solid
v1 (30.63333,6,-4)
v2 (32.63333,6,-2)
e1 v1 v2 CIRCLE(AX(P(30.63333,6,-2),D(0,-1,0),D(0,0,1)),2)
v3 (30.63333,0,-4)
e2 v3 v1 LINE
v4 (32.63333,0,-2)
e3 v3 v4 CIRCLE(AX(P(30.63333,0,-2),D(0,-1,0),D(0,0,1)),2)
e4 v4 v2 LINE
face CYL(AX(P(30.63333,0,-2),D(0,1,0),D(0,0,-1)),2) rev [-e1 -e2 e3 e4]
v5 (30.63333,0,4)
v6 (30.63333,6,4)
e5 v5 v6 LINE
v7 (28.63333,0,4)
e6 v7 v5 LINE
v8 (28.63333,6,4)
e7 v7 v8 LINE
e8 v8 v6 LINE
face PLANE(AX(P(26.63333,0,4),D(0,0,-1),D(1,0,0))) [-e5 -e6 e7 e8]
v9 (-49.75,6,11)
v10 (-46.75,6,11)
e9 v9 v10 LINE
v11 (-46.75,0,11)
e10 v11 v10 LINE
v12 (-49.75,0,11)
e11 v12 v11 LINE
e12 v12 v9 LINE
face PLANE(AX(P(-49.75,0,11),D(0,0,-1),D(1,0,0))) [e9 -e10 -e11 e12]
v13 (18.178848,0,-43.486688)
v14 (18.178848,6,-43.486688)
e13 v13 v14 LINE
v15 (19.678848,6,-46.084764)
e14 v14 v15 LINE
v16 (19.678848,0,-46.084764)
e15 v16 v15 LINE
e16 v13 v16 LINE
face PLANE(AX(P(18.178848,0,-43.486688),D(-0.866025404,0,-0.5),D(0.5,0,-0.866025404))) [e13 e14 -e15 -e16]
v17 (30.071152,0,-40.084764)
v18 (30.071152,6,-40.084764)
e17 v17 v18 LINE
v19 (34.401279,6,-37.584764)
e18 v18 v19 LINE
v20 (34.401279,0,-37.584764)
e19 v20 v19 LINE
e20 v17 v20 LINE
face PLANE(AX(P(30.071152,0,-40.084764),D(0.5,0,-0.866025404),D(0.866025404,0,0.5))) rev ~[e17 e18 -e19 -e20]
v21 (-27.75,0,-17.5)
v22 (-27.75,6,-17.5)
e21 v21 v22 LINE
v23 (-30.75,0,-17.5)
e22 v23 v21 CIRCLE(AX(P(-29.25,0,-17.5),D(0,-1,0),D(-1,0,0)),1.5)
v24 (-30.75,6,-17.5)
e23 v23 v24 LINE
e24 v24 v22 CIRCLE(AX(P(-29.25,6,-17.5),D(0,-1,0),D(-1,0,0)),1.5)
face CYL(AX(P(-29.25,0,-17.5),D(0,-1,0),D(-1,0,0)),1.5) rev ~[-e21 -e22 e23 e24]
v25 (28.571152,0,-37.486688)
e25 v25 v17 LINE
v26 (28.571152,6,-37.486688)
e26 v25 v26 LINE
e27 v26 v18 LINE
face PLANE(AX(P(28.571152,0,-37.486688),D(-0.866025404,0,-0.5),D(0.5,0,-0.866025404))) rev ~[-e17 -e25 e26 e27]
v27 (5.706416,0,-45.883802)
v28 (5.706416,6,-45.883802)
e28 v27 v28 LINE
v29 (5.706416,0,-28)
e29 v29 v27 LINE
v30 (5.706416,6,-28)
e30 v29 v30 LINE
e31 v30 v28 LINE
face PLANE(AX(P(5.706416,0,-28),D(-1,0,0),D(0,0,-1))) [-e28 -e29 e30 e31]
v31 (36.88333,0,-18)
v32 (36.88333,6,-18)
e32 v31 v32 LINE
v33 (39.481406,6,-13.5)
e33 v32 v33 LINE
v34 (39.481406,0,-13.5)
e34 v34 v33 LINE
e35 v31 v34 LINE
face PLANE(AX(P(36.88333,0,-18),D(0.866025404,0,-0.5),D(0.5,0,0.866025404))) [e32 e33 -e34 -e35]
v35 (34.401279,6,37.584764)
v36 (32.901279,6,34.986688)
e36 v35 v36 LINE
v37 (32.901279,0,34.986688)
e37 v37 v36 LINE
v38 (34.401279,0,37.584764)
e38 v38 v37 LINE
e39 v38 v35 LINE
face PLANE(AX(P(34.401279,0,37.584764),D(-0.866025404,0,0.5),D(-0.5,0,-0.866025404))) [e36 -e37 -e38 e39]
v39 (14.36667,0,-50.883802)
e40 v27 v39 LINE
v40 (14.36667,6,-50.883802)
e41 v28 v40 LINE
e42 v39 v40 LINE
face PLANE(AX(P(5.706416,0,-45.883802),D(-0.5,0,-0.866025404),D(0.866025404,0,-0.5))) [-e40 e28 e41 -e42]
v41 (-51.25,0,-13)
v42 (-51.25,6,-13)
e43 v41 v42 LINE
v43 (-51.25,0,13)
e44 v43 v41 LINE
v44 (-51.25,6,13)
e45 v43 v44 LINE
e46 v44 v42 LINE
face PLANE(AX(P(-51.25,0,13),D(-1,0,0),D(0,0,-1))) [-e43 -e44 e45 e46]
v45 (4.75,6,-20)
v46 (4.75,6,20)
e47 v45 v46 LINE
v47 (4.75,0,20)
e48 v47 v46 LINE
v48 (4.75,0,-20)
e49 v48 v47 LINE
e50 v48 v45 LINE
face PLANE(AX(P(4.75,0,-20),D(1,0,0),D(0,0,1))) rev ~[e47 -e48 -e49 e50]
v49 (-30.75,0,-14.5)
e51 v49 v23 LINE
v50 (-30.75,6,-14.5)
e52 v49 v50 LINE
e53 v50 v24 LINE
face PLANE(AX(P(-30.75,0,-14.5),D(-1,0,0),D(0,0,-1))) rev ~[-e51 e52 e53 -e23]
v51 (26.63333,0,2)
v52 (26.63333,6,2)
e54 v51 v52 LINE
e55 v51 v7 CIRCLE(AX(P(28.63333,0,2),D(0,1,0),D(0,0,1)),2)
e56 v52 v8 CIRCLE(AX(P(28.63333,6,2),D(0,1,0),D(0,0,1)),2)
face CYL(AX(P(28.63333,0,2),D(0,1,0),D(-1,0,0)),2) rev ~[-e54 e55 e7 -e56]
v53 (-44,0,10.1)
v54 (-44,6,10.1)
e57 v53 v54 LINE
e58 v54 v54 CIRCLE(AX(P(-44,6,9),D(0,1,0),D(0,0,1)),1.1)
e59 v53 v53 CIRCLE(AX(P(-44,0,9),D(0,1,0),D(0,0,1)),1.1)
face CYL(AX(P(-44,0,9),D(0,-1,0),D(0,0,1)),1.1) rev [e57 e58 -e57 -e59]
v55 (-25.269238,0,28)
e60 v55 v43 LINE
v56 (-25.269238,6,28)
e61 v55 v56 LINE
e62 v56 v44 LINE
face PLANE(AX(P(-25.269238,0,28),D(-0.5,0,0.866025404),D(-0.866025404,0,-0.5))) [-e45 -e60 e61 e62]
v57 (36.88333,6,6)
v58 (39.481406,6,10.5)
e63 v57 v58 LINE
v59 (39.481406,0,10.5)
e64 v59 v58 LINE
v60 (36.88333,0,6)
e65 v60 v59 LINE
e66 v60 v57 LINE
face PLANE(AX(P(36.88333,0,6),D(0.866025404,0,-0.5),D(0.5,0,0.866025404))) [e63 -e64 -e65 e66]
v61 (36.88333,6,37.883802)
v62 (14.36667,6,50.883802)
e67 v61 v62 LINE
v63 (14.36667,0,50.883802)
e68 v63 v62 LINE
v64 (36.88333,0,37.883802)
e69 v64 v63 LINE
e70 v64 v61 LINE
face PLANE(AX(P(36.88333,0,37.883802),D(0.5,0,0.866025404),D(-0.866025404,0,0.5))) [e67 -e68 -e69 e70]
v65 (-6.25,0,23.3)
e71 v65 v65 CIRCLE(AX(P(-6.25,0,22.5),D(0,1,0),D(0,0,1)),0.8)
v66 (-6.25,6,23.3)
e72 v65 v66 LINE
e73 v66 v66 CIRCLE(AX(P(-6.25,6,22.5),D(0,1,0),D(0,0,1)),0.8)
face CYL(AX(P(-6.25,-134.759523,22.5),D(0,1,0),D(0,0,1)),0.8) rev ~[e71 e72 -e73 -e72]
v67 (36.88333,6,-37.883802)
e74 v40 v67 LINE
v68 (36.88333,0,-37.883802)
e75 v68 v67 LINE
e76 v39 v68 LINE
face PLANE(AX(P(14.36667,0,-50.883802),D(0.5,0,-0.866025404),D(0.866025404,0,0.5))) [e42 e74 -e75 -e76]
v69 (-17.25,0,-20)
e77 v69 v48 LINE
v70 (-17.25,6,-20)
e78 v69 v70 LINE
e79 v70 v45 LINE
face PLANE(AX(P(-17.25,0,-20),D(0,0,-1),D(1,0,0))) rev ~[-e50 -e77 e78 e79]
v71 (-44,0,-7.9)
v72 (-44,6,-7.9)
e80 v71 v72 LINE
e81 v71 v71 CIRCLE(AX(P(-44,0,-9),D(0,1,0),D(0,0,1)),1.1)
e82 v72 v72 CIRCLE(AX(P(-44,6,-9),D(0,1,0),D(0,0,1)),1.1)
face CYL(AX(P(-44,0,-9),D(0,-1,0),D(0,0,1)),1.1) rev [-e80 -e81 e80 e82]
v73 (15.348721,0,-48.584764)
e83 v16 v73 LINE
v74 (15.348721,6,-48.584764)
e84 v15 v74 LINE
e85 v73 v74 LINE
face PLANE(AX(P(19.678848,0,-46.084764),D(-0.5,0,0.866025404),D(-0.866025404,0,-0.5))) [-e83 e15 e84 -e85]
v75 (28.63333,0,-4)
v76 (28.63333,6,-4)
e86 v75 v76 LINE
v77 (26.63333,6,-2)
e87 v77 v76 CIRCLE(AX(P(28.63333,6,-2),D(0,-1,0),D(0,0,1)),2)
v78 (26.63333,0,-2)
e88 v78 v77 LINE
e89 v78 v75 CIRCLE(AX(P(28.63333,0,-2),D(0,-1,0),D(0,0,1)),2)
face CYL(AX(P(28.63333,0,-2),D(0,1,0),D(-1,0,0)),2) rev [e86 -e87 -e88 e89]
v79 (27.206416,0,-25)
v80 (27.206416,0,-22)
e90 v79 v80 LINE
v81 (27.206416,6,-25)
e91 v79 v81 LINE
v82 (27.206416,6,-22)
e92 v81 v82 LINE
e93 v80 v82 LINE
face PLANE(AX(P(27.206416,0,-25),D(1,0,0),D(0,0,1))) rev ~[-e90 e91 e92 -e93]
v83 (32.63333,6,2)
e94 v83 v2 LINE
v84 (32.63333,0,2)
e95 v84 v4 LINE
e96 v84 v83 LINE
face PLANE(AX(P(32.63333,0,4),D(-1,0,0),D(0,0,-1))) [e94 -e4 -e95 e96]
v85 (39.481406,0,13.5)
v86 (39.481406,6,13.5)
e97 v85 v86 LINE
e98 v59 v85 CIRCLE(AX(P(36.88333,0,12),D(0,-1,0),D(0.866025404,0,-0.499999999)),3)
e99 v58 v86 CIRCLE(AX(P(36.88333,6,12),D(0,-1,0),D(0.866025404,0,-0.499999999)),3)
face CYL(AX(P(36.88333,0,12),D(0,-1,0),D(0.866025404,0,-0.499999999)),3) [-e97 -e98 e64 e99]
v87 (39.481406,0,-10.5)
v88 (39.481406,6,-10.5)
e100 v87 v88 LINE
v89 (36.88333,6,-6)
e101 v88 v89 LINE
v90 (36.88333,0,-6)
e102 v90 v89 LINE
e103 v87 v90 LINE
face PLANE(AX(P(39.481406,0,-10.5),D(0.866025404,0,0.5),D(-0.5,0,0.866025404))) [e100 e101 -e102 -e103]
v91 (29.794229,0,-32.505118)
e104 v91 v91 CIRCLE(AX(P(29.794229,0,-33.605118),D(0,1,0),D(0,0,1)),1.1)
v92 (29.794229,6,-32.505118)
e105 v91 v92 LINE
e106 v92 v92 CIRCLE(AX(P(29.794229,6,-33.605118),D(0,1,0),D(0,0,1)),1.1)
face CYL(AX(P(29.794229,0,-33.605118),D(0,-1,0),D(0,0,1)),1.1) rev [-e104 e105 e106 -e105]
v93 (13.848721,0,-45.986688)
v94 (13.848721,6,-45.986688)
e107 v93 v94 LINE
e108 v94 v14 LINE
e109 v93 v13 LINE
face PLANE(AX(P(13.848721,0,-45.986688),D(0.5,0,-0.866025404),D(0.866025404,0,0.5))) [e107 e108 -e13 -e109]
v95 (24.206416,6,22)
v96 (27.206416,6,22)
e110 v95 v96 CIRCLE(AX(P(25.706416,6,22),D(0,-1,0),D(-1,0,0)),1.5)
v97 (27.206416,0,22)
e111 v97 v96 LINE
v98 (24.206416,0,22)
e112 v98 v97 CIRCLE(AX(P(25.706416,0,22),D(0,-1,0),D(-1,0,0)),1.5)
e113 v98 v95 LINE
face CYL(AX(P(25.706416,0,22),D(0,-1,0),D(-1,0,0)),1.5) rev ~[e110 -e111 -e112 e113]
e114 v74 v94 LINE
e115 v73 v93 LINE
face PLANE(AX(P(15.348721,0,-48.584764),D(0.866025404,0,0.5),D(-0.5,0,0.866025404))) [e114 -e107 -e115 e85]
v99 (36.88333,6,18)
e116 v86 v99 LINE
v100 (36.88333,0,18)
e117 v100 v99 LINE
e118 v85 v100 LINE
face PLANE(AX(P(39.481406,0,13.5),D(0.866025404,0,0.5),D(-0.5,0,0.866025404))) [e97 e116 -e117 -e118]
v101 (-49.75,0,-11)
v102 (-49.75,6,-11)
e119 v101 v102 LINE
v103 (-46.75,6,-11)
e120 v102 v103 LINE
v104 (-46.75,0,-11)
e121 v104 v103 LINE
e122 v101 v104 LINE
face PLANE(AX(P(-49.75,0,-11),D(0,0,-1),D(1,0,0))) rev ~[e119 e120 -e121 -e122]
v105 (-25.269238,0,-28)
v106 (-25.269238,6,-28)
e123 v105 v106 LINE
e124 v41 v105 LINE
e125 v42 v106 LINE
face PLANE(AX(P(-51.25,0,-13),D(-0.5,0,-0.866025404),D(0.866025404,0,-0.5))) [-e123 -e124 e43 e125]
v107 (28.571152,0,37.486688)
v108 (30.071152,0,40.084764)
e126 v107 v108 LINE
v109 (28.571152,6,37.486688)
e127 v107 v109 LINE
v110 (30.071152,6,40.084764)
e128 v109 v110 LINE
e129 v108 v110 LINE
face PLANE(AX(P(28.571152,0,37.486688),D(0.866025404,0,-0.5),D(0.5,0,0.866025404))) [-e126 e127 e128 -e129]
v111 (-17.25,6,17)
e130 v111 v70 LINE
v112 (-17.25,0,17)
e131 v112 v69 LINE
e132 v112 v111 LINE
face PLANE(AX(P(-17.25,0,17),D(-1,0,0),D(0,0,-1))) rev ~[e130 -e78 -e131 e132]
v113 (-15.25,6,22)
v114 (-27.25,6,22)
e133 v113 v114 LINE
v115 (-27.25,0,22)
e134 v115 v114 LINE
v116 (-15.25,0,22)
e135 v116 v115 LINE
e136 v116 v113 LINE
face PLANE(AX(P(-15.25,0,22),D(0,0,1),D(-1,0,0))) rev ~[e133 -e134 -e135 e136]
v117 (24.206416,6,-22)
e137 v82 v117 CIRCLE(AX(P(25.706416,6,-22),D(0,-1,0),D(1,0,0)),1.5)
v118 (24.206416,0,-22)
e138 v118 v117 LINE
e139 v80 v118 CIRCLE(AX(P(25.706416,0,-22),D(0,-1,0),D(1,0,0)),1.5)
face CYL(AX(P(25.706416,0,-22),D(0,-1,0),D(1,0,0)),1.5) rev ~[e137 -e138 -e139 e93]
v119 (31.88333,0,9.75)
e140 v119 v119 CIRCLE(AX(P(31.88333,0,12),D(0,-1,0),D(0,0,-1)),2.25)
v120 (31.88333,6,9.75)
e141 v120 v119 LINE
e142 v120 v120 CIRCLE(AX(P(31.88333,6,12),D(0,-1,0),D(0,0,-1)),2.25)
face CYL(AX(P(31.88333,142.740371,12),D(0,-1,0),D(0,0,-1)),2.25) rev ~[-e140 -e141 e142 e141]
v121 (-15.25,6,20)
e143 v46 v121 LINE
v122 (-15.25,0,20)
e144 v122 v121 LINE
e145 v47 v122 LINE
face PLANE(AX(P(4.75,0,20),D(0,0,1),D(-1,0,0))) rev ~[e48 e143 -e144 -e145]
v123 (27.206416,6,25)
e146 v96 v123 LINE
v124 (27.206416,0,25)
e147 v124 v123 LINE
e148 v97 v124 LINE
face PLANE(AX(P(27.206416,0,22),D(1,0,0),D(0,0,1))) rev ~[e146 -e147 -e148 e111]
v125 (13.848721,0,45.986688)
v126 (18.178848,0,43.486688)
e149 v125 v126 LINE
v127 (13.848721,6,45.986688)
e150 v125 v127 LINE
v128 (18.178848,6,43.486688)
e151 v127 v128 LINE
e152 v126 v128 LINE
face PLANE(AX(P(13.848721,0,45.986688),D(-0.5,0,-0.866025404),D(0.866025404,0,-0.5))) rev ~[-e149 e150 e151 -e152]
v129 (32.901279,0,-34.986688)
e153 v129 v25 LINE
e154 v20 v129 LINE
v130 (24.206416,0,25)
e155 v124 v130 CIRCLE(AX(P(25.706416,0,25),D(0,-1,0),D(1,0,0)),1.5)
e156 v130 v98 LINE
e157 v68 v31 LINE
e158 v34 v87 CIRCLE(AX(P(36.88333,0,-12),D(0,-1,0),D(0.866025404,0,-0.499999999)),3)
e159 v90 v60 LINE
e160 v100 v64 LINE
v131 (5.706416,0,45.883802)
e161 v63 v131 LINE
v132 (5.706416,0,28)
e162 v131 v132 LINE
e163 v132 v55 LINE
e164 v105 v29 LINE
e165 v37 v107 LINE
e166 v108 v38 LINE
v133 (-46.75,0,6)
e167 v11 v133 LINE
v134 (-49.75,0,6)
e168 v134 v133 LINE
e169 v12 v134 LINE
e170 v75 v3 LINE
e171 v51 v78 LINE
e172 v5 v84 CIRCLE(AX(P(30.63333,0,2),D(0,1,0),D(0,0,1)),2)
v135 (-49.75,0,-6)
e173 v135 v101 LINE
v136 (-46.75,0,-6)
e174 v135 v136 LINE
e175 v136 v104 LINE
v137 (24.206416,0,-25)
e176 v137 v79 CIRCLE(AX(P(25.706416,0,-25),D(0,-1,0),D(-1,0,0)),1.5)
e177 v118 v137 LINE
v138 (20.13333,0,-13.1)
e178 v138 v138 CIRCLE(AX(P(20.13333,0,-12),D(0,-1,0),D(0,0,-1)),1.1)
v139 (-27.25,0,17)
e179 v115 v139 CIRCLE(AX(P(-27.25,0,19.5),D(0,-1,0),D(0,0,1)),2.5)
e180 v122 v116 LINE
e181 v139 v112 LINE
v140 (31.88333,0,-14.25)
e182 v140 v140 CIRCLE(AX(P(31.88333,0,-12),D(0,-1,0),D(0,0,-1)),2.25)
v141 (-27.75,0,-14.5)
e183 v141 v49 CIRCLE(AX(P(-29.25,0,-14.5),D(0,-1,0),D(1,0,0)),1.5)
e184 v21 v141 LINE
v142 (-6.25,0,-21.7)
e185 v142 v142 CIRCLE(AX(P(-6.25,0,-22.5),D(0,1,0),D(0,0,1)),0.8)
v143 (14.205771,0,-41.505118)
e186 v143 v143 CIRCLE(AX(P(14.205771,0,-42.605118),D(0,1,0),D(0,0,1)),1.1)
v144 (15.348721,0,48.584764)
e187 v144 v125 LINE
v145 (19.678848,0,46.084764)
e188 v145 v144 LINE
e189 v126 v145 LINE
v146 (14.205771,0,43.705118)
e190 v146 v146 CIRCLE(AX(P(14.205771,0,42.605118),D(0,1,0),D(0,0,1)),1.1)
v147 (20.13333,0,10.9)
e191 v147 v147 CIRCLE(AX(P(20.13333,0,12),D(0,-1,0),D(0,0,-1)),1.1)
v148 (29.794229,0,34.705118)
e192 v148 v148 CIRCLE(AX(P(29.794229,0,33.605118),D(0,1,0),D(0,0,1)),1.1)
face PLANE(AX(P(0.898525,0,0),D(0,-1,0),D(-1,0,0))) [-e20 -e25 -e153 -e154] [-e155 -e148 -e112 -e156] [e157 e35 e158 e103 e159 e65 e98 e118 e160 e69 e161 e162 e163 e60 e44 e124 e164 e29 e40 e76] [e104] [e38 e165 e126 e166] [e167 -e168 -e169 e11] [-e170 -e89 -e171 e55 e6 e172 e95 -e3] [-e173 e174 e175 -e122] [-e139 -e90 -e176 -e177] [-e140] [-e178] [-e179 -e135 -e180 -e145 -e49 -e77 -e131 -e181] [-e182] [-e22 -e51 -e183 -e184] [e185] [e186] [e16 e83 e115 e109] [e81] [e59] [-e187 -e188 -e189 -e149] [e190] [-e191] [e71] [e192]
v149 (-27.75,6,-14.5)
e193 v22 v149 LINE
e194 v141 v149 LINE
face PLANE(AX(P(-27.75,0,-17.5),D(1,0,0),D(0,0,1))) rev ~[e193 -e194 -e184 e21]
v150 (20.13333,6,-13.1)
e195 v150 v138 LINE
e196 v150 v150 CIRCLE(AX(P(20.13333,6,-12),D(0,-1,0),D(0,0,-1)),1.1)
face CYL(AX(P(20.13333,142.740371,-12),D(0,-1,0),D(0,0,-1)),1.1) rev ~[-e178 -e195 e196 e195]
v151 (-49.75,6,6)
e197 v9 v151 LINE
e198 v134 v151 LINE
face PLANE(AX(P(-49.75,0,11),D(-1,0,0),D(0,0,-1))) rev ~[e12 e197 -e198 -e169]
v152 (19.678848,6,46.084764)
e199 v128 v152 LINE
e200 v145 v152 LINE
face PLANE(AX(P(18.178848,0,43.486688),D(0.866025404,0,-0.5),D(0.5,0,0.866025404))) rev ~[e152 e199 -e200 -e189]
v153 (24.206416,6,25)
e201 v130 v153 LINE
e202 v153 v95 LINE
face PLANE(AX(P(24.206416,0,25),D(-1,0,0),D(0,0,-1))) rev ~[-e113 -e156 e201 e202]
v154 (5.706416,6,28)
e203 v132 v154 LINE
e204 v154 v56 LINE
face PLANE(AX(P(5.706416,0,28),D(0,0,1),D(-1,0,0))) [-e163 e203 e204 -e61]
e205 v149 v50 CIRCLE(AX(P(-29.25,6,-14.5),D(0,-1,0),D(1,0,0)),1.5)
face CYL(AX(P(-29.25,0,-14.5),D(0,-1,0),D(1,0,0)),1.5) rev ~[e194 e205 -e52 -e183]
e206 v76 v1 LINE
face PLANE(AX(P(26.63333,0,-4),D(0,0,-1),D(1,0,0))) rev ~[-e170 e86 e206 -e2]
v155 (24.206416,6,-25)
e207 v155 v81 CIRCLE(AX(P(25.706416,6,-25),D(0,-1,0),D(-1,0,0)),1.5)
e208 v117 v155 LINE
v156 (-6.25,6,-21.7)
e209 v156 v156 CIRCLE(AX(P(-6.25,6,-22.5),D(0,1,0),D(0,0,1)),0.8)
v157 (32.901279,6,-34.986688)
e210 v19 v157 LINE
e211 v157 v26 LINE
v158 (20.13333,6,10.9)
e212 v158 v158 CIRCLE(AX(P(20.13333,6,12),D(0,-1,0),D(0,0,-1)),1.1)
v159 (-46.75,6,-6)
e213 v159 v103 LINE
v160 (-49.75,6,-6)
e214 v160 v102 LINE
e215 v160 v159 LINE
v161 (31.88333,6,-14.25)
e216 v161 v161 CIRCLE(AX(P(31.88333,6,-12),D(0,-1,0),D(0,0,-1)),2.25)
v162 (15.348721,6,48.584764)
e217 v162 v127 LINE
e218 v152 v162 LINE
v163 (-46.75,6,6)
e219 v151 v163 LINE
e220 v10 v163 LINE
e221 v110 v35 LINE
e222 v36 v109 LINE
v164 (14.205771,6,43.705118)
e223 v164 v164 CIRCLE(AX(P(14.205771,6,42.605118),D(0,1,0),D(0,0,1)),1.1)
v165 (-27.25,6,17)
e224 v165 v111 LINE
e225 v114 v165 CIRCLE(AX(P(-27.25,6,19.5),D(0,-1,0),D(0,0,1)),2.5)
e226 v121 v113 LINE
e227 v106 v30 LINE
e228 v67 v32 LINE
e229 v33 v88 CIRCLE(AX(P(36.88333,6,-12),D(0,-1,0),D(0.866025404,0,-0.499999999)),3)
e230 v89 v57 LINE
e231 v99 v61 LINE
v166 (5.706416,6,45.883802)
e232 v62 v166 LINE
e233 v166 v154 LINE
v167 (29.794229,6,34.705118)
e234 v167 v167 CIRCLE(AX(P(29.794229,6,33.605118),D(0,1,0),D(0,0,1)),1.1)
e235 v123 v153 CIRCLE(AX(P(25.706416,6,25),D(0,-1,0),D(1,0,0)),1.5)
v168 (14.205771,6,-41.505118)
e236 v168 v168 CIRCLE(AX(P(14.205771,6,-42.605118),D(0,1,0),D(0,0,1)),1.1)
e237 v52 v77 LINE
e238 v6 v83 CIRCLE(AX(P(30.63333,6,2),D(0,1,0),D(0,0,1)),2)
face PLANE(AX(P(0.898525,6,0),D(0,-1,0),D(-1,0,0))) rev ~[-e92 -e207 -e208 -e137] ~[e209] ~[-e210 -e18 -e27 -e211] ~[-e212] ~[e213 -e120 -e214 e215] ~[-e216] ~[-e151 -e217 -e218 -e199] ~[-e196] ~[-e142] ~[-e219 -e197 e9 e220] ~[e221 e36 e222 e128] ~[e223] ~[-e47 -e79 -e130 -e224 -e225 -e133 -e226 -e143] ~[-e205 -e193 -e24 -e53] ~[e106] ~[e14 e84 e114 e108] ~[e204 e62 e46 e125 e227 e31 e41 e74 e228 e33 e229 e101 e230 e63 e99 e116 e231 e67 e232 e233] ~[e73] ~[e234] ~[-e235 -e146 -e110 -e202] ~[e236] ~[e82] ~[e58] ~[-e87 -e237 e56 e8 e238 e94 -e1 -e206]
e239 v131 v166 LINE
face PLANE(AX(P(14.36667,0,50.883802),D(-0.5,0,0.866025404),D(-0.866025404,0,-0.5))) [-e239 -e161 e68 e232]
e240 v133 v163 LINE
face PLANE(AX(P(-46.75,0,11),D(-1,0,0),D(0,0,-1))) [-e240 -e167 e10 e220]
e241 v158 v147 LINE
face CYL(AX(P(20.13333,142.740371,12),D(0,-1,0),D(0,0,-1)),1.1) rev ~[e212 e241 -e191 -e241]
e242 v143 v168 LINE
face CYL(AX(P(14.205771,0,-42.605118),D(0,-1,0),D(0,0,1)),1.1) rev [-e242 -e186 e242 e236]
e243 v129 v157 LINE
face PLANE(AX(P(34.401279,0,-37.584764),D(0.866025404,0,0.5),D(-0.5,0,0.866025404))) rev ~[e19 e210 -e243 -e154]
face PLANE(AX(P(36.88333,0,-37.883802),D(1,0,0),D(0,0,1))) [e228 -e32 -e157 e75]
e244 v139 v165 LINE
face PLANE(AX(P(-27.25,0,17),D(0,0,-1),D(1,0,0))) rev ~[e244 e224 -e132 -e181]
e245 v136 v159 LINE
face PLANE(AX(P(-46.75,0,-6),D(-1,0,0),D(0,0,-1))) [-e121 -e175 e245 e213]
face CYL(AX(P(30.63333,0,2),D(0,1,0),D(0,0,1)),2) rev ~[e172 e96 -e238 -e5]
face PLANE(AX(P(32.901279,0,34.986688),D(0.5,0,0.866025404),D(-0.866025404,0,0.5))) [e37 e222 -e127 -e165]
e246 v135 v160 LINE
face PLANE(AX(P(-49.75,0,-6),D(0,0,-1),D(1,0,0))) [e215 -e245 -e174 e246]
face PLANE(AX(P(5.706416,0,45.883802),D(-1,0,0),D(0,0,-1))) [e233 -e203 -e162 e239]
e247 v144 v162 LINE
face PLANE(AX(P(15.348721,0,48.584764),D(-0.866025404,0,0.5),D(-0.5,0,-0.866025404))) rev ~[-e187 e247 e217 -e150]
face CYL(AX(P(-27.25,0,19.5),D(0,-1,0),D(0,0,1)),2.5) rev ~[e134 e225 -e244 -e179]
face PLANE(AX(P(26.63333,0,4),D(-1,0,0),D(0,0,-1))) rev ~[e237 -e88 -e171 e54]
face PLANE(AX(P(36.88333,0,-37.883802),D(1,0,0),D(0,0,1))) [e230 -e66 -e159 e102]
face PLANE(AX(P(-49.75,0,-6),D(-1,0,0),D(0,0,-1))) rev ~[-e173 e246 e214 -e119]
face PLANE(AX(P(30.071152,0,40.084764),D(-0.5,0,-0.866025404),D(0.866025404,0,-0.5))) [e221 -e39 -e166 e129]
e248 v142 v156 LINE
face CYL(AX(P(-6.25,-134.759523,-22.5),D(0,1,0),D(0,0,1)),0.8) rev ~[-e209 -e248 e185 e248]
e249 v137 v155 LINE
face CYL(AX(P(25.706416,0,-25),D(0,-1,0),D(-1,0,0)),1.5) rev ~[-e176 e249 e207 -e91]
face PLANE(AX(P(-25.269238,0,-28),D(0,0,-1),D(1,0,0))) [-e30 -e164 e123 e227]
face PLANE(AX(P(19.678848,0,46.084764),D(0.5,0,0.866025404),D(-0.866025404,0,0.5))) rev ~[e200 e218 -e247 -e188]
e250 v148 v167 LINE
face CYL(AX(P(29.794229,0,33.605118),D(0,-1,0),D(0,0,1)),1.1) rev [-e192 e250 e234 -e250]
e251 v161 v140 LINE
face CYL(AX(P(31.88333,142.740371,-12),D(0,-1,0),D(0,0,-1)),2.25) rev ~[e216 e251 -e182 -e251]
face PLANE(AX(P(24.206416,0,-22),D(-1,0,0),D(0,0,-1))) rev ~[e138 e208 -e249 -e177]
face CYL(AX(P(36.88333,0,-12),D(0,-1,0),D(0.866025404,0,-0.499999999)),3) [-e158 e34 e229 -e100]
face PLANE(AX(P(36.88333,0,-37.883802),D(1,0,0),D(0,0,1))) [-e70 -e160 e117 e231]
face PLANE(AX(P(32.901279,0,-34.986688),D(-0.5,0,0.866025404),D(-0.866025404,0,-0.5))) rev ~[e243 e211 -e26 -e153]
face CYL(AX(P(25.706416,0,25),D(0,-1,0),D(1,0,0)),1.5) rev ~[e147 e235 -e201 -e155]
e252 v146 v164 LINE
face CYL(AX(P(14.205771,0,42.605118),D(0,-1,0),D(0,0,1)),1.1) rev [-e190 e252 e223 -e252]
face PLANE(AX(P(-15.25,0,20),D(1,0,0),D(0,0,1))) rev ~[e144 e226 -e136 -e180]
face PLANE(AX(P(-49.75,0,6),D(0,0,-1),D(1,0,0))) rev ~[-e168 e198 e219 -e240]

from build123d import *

# Parameters (mm, degrees)
SKETCH1_R                  = 1.1
SKETCH1_W                  = 3
SKETCH1_H                  = 5
SKETCH1_W_2                = 6
SKETCH1_H_2                = 8
BOSS_EXTRUDE1_DEPTH        = 6
F_1_6_1_6_DIAMETER_HOLE3_D = 1.6
BOSS_EXTRUDE2_DEPTH        = 6
FILLET1_R                  = 2
F_2_2_2_2_DIAMETER_HOLE1_D = 2.2
F_4_0MM_DOWEL_HOLE1_D      = 4.5


with BuildPart() as part:
    # Sketch1 → Boss-Extrude1 (new body)
    with BuildSketch(Plane(origin=(0, 0, 0), x_dir=(1, 0, 0), z_dir=(0, 1, 0))):
        Polygon((14.366669751, 50.883801944), (36.883330249, 37.883801944), (36.883330249, -37.883801944), (14.366669751, -50.883801944), (5.706415713, -45.883801944), (5.706415713, -28), (-25.269237886, -28), (-51.25, -13), (-51.25, 13), (-25.269237886, 28), (5.706415713, 28), (5.706415713, 45.883801944), align=None)
        with Locations(Location((14.205771366, 42.605117767, 0), (0, 0, 270))):
            Circle(SKETCH1_R, mode=Mode.SUBTRACT)
        with Locations(Location((29.794228634, 33.605117767, 0), (0, 0, 270))):
            Circle(SKETCH1_R, mode=Mode.SUBTRACT)
        with Locations(Location((29.794228634, -33.605117767, 0), (0, 0, 270))):
            Circle(SKETCH1_R, mode=Mode.SUBTRACT)
        with Locations(Location((14.205771366, -42.605117767, 0), (0, 0, 270))):
            Circle(SKETCH1_R, mode=Mode.SUBTRACT)
        with Locations(Location((-44, 9, 0), (0, 0, 270))):
            Circle(SKETCH1_R, mode=Mode.SUBTRACT)
        with Locations(Location((-44, -9, 0), (0, 0, 270))):
            Circle(SKETCH1_R, mode=Mode.SUBTRACT)
        with BuildLine():
            Line((4.75, -20), (-15.25, -20))
            Line((-15.25, -20), (-15.25, -22))
            Line((-15.25, -22), (-27.25, -22))
            ThreePointArc((-27.25, -22), (-29.75, -19.5), (-27.25, -17))
            Line((-27.25, -17), (-17.25, -17))
            Line((-17.25, -17), (-17.25, 20))
            Line((-17.25, 20), (4.75, 20))
            Line((4.75, 20), (4.75, -20))
        make_face(mode=Mode.SUBTRACT)
        Polygon((30.071152423, 40.084763838), (34.401279442, 37.584763838), (32.901279442, 34.986687627), (28.571152423, 37.486687627), align=None, mode=Mode.SUBTRACT)
        Polygon((15.348720558, 48.584763838), (13.848720558, 45.986687627), (18.178847577, 43.486687627), (19.678847577, 46.084763838), align=None, mode=Mode.SUBTRACT)
        Polygon((34.401279442, -37.584763838), (32.901279442, -34.986687627), (28.571152423, -37.486687627), (30.071152423, -40.084763838), align=None, mode=Mode.SUBTRACT)
        Polygon((18.178847577, -43.486687627), (19.678847577, -46.084763838), (15.348720558, -48.584763838), (13.848720558, -45.986687627), align=None, mode=Mode.SUBTRACT)
        with Locations((-48.25, -8.5)):
            Rectangle(SKETCH1_W, SKETCH1_H, mode=Mode.SUBTRACT)
        with Locations((-48.25, 8.5)):
            Rectangle(SKETCH1_W, SKETCH1_H, mode=Mode.SUBTRACT)
        with BuildLine():
            Line((-30.75, 14.5), (-30.75, 17.5))
            ThreePointArc((-30.75, 17.5), (-29.25, 19), (-27.75, 17.5))
            Line((-27.75, 17.5), (-27.75, 14.5))
            ThreePointArc((-27.75, 14.5), (-29.25, 13), (-30.75, 14.5))
        make_face(mode=Mode.SUBTRACT)
        with BuildLine():
            Line((24.206415713, -25), (24.206415713, -22))
            ThreePointArc((24.206415713, -22), (25.706415713, -20.5), (27.206415713, -22))
            Line((27.206415713, -22), (27.206415713, -25))
            ThreePointArc((27.206415713, -25), (25.706415713, -26.5), (24.206415713, -25))
        make_face(mode=Mode.SUBTRACT)
        with BuildLine():
            Line((24.206415713, 22), (24.206415713, 25))
            ThreePointArc((24.206415713, 25), (25.706415713, 26.5), (27.206415713, 25))
            Line((27.206415713, 25), (27.206415713, 22))
            ThreePointArc((27.206415713, 22), (25.706415713, 20.5), (24.206415713, 22))
        make_face(mode=Mode.SUBTRACT)
        with Locations((29.633330249, 0)):
            Rectangle(SKETCH1_W_2, SKETCH1_H_2, mode=Mode.SUBTRACT)
    extrude(amount=BOSS_EXTRUDE1_DEPTH)

    # Ø1.6 (1.6) Diameter Hole3 (through all)
    with Locations(Plane(origin=(-6.25, 0, 22.5), x_dir=(0, 0, -1), z_dir=(0, -1, 0))):
        with Locations((0, 0), (45, 0)):
            Hole(F_1_6_1_6_DIAMETER_HOLE3_D / 2)

    # Sketch9 → Boss-Extrude2 (add)
    with BuildSketch(Plane.XZ):
        with BuildLine():
            Line((36.883330249, -9), (36.883330249, -15))
            ThreePointArc((36.883330249, -15), (38.383330249, -14.598076211), (39.481406461, -13.5))
            ThreePointArc((39.481406461, -13.5), (39.883330249, -12), (39.481406461, -10.5))
            ThreePointArc((39.481406461, -10.5), (38.383330249, -9.401923789), (36.883330249, -9))
        make_face()
        with BuildLine():
            Line((36.883330249, -6), (36.883330249, -9))
            ThreePointArc((36.883330249, -9), (38.383330249, -9.401923789), (39.481406461, -10.5))
            Line((39.481406461, -10.5), (36.883330249, -6))
        make_face()
        with BuildLine():
            Line((36.883330249, -15), (36.883330249, -18))
            Line((36.883330249, -18), (39.481406461, -13.5))
            ThreePointArc((39.481406461, -13.5), (38.383330249, -14.598076211), (36.883330249, -15))
        make_face()
        with BuildLine():
            ThreePointArc((39.481406461, 10.5), (39.883330249, 12), (39.481406461, 13.5))
            ThreePointArc((39.481406461, 13.5), (38.383330249, 14.598076211), (36.883330249, 15))
            Line((36.883330249, 15), (36.883330249, 9))
            ThreePointArc((36.883330249, 9), (38.383330249, 9.401923789), (39.481406461, 10.5))
        make_face()
        with BuildLine():
            Line((36.883330249, 6), (39.481406461, 10.5))
            ThreePointArc((39.481406461, 10.5), (38.383330249, 9.401923789), (36.883330249, 9))
            Line((36.883330249, 9), (36.883330249, 6))
        make_face()
        with BuildLine():
            ThreePointArc((36.883330249, 15), (38.383330249, 14.598076211), (39.481406461, 13.5))
            Line((39.481406461, 13.5), (36.883330249, 18))
            Line((36.883330249, 18), (36.883330249, 15))
        make_face()
    extrude(amount=-BOSS_EXTRUDE2_DEPTH)

    # Fillet1
    fillet1_edges = [part.edges().sort_by_distance(p)[0] for p in [
        (32.633330249, 3, 4),
        (32.633330249, 3, -4),
        (26.633330249, 3, -4),
        (26.633330249, 3, 4),
    ]]
    fillet(fillet1_edges, radius=FILLET1_R)

    # Ø2.2 (2.2) Diameter Hole1 (through all)
    with Locations(Plane(origin=(20.133330249, 6, -12), x_dir=(0, 0, 1), z_dir=(0, 1, 0))):
        with Locations((0, 0), (24, 0)):
            Hole(F_2_2_2_2_DIAMETER_HOLE1_D / 2)

    # Ø4.0mm Dowel Hole1 (through all)
    with Locations(Plane(origin=(31.883330249, 6, -12), x_dir=(0, 0, 1), z_dir=(0, 1, 0))):
        with Locations((0, 0), (24, 0)):
            Hole(F_4_0MM_DOWEL_HOLE1_D / 2)


solid = part.part
